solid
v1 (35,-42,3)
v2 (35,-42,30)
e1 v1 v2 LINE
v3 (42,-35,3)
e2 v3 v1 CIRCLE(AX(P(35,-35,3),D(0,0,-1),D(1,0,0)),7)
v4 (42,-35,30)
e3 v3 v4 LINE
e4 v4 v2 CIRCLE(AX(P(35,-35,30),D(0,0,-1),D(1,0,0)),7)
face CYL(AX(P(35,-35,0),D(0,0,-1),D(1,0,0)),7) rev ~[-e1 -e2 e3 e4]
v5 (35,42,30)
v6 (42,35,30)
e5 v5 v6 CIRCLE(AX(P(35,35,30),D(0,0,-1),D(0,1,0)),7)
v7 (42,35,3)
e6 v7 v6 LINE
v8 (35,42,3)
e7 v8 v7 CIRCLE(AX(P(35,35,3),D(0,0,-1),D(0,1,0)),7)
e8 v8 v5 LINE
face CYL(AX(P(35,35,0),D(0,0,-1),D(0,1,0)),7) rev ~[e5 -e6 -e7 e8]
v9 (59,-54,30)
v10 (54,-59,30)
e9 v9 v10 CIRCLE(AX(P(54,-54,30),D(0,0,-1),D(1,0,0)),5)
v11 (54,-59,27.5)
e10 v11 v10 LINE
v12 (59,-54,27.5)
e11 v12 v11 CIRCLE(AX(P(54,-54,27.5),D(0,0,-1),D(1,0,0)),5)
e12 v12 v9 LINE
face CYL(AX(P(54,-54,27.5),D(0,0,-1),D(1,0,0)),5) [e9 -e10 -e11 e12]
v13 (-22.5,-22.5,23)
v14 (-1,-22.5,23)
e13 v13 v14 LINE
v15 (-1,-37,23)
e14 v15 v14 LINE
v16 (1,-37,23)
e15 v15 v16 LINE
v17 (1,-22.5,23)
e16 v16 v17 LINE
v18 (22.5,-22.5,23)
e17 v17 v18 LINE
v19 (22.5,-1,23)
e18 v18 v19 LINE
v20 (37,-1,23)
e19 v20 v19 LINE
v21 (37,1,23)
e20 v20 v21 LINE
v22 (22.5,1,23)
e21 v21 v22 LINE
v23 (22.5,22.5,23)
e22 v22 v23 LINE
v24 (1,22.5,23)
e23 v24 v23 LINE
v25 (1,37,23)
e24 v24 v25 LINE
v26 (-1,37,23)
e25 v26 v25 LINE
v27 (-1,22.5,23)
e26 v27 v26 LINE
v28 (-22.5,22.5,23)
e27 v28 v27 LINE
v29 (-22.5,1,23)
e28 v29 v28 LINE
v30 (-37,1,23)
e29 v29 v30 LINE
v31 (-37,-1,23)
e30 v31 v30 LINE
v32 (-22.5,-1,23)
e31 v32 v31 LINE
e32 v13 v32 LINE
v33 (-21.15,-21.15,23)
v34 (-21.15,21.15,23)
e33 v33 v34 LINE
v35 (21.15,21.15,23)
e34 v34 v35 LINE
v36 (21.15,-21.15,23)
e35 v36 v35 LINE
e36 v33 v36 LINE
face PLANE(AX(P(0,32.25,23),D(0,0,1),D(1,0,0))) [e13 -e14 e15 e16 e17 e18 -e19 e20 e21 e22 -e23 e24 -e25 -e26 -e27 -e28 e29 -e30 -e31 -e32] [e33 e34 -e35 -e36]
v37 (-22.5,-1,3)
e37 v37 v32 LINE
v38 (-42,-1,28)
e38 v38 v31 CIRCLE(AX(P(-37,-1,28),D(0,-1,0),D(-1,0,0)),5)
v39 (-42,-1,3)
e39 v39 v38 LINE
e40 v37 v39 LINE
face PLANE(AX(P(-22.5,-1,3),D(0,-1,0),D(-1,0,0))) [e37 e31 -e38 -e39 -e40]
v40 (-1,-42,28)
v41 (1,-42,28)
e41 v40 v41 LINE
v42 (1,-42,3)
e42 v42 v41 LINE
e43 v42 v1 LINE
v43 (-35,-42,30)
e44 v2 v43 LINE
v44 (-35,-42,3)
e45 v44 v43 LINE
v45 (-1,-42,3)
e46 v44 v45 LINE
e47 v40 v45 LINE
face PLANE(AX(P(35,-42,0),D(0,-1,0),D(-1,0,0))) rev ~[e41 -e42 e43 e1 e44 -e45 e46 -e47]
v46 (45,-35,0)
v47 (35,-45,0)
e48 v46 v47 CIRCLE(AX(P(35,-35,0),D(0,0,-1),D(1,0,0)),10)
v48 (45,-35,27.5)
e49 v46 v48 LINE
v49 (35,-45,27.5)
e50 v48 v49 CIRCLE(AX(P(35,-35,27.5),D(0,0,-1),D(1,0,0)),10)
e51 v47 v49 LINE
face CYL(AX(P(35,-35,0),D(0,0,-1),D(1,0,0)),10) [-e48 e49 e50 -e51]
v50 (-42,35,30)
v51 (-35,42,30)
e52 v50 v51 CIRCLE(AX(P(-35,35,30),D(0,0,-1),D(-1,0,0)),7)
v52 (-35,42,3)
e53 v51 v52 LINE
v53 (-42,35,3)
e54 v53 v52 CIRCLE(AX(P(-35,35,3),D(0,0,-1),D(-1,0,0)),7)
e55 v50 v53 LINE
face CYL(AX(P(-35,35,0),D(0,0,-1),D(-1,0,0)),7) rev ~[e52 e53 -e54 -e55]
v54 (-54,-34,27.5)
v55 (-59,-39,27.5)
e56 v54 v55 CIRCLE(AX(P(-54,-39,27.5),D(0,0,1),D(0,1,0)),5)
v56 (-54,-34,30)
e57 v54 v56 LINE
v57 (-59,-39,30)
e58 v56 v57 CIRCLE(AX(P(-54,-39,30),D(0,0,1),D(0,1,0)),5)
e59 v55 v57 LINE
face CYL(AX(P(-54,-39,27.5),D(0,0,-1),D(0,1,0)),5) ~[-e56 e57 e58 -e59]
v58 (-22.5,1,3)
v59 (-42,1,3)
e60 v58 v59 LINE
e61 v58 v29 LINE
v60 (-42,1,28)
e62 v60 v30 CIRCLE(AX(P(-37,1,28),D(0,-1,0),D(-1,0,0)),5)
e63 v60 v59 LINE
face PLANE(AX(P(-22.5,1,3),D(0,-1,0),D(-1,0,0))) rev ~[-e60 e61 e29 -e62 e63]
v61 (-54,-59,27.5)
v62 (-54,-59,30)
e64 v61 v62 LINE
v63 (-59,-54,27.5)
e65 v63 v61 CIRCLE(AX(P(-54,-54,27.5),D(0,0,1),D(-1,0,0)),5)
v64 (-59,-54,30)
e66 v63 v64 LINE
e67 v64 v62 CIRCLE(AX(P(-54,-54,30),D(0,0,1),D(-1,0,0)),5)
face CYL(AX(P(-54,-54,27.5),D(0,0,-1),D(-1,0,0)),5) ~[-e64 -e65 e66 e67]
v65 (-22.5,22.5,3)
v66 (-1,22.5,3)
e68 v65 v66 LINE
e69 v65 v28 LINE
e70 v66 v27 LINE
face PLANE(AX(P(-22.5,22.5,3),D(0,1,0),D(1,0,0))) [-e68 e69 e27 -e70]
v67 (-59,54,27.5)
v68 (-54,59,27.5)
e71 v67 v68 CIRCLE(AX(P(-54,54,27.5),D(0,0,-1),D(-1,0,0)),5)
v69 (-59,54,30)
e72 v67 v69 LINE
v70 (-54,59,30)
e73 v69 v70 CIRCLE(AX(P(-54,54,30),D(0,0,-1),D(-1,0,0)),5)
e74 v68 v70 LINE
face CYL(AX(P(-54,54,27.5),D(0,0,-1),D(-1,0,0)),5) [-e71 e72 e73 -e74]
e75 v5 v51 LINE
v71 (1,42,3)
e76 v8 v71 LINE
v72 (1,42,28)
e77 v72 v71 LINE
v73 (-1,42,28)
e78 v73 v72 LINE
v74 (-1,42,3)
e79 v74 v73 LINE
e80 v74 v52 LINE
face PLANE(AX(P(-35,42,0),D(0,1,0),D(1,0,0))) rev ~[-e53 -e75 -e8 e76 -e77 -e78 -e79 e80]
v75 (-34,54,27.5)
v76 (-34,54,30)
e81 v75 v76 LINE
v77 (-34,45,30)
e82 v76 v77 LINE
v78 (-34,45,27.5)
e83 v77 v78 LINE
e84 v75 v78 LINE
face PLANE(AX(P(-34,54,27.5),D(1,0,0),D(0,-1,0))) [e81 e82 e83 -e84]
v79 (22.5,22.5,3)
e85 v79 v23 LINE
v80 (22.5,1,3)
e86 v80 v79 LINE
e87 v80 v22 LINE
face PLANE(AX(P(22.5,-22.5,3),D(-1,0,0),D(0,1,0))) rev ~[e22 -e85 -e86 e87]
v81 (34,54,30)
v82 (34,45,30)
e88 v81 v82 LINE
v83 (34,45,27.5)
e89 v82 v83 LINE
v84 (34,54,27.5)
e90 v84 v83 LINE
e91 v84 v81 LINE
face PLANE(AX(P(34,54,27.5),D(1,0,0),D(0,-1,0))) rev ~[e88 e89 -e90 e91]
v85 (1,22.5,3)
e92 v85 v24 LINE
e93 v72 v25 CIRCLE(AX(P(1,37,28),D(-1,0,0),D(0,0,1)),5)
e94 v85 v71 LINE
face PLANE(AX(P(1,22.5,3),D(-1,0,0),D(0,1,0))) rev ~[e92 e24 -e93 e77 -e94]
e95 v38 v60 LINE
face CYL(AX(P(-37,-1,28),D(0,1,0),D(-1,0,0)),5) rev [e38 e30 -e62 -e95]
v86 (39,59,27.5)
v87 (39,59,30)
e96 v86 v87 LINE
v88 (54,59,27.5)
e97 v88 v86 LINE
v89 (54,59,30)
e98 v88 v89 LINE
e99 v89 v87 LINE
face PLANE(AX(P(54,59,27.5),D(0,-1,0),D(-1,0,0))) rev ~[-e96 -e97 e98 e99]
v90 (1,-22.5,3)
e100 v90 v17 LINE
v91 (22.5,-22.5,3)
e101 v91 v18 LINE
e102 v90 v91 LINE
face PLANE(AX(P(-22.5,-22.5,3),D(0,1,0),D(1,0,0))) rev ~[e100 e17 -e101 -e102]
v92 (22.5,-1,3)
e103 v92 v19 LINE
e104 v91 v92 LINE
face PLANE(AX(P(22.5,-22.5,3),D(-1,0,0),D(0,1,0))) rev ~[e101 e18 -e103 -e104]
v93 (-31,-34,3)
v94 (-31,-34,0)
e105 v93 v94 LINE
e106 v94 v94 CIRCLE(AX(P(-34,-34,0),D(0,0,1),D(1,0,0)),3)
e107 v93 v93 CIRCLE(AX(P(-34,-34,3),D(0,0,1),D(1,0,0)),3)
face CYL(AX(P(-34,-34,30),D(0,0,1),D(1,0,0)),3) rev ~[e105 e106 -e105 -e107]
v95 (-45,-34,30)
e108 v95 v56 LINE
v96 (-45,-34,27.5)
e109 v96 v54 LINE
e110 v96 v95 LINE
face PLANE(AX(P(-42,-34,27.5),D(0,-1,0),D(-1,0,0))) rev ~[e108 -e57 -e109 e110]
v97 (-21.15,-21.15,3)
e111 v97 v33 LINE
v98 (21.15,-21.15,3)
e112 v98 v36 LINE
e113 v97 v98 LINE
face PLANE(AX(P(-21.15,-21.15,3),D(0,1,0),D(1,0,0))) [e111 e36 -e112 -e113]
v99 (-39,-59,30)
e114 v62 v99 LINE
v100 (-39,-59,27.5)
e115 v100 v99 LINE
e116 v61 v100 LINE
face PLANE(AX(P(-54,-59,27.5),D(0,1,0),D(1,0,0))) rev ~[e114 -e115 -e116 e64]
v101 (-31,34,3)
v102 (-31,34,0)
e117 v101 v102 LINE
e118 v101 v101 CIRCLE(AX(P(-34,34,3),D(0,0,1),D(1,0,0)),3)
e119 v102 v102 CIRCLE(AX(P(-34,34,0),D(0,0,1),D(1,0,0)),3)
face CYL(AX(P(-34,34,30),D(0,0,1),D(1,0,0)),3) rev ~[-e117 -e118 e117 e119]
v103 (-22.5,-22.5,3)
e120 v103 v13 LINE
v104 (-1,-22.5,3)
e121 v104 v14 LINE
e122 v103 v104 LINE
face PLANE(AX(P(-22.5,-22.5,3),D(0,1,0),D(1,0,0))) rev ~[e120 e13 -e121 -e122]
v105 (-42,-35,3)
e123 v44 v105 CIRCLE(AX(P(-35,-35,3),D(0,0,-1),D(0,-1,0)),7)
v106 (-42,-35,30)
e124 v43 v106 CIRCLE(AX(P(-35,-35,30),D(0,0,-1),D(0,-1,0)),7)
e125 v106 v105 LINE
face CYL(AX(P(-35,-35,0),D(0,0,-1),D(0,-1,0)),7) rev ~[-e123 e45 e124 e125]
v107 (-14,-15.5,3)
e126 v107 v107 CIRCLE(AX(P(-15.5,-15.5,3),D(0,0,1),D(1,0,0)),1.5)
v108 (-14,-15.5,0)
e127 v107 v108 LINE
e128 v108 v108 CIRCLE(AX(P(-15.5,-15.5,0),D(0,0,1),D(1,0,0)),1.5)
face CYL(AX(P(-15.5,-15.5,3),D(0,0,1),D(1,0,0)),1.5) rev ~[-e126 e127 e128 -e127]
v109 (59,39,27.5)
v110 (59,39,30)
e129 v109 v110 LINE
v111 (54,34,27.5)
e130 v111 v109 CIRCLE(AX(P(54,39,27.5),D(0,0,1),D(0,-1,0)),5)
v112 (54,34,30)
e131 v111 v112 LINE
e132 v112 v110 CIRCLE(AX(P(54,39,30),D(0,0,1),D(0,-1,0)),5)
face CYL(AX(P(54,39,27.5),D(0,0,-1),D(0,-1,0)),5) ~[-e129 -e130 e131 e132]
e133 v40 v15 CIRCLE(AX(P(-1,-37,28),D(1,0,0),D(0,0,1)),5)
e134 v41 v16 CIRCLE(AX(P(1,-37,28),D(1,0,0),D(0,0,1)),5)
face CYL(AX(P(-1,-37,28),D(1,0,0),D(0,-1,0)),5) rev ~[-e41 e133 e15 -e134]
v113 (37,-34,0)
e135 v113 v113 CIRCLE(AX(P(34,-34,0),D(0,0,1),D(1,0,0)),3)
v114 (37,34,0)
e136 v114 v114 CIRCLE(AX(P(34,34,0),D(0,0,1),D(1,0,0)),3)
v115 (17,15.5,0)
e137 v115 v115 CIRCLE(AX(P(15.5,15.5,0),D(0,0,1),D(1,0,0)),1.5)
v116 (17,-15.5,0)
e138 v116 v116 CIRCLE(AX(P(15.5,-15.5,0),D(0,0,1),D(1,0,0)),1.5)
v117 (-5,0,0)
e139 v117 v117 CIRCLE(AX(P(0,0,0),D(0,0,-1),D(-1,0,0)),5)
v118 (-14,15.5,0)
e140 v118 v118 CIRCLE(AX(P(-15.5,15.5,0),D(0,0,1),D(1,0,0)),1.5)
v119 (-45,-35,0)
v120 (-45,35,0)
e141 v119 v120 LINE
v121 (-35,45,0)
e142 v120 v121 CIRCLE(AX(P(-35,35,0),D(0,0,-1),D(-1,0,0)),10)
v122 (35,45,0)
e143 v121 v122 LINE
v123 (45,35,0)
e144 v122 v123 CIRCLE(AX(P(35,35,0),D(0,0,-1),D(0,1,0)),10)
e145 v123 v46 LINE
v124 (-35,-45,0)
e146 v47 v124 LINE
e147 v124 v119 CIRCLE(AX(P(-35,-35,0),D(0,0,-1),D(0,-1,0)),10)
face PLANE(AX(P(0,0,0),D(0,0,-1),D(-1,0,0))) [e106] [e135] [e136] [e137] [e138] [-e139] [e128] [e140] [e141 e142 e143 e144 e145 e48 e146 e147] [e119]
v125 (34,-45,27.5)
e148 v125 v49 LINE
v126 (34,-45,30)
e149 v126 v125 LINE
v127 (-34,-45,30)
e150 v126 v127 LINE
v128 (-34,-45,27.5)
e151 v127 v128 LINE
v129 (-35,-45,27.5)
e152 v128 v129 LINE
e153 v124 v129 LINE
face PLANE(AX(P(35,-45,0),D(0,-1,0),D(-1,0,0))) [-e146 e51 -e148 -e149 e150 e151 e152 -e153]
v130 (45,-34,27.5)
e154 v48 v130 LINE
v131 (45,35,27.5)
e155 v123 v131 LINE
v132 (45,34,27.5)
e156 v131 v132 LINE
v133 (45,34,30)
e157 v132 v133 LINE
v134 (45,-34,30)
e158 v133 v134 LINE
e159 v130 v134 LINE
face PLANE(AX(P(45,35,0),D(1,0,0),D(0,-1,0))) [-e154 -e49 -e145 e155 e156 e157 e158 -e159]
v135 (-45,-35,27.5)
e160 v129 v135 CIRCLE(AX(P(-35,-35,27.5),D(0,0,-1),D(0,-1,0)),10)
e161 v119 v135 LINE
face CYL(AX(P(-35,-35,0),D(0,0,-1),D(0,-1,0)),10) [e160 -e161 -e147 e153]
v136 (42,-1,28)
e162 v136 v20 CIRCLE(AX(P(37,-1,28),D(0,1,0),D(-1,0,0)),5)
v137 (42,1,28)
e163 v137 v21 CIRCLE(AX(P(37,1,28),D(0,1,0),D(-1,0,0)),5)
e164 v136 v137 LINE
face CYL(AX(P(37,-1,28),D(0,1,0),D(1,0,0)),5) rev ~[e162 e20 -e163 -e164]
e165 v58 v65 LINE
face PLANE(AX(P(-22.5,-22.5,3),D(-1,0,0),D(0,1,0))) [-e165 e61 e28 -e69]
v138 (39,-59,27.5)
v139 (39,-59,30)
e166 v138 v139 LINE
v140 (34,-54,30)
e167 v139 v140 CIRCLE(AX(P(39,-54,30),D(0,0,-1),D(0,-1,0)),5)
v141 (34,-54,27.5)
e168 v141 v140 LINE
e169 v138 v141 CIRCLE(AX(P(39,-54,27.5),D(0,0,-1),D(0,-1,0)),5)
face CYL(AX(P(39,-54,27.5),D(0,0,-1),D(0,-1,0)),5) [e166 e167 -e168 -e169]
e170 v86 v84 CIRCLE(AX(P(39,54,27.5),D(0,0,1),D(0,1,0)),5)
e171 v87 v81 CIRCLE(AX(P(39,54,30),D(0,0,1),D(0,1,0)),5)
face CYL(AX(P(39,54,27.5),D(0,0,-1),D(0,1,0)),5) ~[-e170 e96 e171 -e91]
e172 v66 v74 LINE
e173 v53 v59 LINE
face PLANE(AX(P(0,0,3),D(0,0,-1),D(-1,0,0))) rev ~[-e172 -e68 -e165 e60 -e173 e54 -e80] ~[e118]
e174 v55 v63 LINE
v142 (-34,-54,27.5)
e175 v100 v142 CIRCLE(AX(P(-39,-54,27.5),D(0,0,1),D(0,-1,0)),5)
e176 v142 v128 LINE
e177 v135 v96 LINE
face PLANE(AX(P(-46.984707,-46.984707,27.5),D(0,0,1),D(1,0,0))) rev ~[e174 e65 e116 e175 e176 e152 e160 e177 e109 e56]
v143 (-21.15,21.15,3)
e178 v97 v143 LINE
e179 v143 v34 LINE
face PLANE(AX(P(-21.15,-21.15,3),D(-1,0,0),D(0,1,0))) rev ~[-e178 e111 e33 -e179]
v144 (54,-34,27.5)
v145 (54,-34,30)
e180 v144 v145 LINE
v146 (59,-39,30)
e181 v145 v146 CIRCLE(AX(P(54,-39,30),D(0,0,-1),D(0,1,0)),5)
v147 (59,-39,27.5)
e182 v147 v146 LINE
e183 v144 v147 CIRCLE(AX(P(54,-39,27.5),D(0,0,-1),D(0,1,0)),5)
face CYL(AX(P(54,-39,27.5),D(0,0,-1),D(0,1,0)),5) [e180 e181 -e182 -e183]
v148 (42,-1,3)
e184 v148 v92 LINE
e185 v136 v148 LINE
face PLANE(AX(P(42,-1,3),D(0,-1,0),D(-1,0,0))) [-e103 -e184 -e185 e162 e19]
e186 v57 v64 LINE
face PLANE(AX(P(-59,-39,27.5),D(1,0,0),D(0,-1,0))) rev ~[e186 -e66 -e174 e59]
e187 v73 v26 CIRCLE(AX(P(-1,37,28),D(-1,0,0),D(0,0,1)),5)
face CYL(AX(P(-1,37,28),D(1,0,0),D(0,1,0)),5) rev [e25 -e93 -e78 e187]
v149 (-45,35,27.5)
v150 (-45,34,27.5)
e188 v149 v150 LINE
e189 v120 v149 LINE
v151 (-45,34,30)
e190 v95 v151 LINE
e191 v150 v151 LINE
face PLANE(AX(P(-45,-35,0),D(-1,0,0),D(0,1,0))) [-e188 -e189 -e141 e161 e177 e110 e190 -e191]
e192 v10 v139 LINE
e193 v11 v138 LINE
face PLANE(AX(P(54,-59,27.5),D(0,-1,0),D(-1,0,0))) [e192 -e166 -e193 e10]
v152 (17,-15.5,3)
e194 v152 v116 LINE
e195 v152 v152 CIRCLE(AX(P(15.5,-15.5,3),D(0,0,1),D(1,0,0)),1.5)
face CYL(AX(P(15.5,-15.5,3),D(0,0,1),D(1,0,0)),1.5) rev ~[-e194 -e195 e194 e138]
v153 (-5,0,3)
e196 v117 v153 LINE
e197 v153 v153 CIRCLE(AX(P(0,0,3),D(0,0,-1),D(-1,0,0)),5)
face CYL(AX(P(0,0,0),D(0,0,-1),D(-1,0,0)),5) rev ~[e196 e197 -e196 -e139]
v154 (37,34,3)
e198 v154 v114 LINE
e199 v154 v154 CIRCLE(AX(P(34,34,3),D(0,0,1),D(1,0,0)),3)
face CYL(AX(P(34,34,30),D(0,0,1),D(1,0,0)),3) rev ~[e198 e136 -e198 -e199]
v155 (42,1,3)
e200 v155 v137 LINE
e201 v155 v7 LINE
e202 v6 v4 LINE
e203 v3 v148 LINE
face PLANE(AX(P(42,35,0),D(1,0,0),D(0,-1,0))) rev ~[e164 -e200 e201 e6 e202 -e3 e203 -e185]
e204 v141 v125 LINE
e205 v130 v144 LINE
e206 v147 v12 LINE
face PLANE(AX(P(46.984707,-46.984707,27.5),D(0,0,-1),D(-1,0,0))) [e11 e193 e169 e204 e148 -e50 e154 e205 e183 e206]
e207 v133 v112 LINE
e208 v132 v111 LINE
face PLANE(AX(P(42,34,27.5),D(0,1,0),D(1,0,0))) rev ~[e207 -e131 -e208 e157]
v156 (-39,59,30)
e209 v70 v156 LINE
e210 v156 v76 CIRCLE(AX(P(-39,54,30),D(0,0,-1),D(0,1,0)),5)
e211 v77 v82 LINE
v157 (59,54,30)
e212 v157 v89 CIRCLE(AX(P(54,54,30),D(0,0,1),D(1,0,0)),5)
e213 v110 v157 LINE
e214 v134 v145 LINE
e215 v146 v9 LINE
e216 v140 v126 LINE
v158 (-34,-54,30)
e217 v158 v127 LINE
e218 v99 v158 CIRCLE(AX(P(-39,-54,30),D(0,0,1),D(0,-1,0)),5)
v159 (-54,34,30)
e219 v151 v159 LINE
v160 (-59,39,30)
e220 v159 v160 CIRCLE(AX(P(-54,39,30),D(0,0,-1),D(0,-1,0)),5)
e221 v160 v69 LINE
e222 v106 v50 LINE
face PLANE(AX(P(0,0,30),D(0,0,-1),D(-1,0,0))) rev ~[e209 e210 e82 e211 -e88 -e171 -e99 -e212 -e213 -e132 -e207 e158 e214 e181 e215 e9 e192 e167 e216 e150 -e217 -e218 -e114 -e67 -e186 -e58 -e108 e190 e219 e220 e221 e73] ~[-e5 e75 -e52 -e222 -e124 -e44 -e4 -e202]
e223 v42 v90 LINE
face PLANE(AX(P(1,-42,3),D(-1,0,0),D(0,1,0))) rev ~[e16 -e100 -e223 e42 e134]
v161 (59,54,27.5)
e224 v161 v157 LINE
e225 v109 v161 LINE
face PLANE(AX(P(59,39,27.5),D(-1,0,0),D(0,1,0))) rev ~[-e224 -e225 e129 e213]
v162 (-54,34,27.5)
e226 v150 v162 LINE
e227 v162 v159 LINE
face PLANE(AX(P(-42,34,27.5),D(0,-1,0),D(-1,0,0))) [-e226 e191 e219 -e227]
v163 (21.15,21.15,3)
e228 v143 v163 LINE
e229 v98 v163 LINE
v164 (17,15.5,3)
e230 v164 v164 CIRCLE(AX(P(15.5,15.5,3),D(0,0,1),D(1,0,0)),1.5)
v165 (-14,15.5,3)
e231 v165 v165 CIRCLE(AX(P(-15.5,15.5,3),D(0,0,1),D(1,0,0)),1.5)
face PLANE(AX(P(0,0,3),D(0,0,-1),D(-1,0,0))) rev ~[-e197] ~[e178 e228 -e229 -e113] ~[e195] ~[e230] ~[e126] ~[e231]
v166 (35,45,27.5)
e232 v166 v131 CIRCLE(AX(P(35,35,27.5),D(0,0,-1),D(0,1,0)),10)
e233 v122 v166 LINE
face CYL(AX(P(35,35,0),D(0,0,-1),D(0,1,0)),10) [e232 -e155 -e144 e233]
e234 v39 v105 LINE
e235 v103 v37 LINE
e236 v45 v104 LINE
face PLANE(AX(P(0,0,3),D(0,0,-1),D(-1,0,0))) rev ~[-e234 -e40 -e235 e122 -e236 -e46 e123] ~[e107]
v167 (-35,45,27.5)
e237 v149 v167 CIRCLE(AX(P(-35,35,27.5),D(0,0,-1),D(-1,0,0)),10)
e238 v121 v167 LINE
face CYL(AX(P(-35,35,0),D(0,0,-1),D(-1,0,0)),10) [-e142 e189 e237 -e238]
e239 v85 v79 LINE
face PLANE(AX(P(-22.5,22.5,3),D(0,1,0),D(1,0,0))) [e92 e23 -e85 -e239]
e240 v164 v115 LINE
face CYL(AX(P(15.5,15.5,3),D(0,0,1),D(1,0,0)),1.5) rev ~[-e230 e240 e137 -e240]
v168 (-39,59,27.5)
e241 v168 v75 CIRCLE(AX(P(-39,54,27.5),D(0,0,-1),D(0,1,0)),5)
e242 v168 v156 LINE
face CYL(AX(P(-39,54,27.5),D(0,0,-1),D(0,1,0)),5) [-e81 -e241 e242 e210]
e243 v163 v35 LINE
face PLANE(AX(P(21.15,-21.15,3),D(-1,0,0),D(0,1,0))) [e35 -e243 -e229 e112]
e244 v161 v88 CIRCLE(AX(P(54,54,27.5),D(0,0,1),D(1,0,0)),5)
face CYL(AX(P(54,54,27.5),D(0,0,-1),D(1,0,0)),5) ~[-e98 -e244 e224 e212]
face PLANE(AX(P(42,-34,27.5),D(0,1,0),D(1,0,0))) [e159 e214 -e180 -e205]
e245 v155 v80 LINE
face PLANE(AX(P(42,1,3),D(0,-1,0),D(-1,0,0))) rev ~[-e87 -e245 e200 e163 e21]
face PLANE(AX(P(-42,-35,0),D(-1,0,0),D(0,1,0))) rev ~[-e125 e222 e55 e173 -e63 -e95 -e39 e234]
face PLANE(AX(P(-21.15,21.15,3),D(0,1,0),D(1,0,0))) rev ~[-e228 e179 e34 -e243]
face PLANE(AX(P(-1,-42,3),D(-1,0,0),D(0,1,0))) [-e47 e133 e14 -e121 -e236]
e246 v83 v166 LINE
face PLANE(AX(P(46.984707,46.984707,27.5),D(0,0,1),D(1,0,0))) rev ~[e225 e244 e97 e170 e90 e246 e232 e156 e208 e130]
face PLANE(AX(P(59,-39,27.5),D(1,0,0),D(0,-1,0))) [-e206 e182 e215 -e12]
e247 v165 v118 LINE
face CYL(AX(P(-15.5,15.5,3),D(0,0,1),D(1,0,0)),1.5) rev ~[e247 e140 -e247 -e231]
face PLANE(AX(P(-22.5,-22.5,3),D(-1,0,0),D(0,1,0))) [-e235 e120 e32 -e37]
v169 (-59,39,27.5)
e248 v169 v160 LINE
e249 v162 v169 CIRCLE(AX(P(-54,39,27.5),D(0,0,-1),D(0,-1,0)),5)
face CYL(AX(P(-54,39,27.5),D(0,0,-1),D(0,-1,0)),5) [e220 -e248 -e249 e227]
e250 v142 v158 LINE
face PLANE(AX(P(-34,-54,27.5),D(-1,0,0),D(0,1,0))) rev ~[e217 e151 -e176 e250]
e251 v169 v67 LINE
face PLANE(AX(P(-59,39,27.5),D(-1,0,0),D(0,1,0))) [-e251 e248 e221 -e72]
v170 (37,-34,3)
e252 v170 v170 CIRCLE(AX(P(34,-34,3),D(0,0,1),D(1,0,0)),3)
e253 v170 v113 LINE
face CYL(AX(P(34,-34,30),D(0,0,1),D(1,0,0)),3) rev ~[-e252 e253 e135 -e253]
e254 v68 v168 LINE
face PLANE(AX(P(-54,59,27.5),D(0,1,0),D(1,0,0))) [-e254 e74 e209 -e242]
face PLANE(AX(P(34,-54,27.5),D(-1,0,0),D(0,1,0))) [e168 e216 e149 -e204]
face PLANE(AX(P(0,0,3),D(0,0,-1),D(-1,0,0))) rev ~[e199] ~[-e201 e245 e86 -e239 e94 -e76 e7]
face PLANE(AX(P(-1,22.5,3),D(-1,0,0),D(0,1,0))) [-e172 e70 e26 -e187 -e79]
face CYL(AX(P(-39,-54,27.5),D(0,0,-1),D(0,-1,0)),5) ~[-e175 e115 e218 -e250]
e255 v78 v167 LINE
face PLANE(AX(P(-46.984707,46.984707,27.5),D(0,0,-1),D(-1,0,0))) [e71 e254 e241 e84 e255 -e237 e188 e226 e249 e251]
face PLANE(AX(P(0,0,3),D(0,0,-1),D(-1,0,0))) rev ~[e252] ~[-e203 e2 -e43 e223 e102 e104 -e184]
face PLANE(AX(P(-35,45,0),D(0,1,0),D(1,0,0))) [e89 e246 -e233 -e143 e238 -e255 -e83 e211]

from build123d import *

# Parameters (mm, degrees)
EXTRUDE_1_DEPTH          = 30
SHELL_1_T                = -3
CUT_EXTRUDE_1_REACH      = 72.356
SKETCH_3_R               = 3
SKETCH_4_W               = 45
SKETCH_4_H               = 45
SKETCH_4_W_2             = 42.3
SKETCH_4_H_2             = 42.3
EXTRUDE_3_DEPTH          = 20
SKETCH_11_R              = 1.5
CUT_EXTRUDE_4_DEPTH      = 70.130311731
SKETCH_7_W               = 2
SKETCH_7_H               = 19.5
EXTRUDE_5_DEPTH          = 20
PATTERN_CIRCULAR_1_COUNT = 2
PATTERN_CIRCULAR_1_ANGLE = 90
SKETCH_10_R              = 5
CUT_EXTRUDE_3_DEPTH      = 71.356236397
FILLET_1_R               = 5
EXTRUDE_START            = -2.5
EXTRUDE_6_DEPTH          = 2.5


with BuildPart() as part:
    # 草图1 → 凸台-拉伸1 (new body)
    with BuildSketch(Plane.XY):
        with BuildLine():
            Line((-35, 45), (35, 45))
            ThreePointArc((35, 45), (42.071067812, 42.071067812), (45, 35))
            Line((45, 35), (45, -35))
            ThreePointArc((45, -35), (42.071067812, -42.071067812), (35, -45))
            Line((35, -45), (-35, -45))
            ThreePointArc((-35, -45), (-42.071067812, -42.071067812), (-45, -35))
            Line((-45, -35), (-45, 35))
            ThreePointArc((-45, 35), (-42.071067812, 42.071067812), (-35, 45))
        make_face()
    extrude(amount=EXTRUDE_1_DEPTH)

    # 抽壳1
    shell_1_openings = [part.faces().sort_by_distance(p)[0] for p in [
        (0, 0, 30),
    ]]
    offset(amount=SHELL_1_T, openings=shell_1_openings, kind=Kind.INTERSECTION)

    # 草图3 → 切除-拉伸1 (cut, up to next)
    with BuildSketch(Plane.XY.offset(30), mode=Mode.PRIVATE) as cut_extrude_1_sk1:
        with Locations((-34, 34)):
            Circle(SKETCH_3_R)
    cut_extrude_1_tool1 = extrude(cut_extrude_1_sk1.sketch, amount=-CUT_EXTRUDE_1_REACH, mode=Mode.PRIVATE) & part.part
    # 草图3 → 切除-拉伸1 (cut, up to next)
    with BuildSketch(Plane.XY.offset(30), mode=Mode.PRIVATE) as cut_extrude_1_sk2:
        with Locations((34, 34)):
            Circle(SKETCH_3_R)
    cut_extrude_1_tool2 = extrude(cut_extrude_1_sk2.sketch, amount=-CUT_EXTRUDE_1_REACH, mode=Mode.PRIVATE) & part.part
    # 草图3 → 切除-拉伸1 (cut, up to next)
    with BuildSketch(Plane.XY.offset(30), mode=Mode.PRIVATE) as cut_extrude_1_sk3:
        with Locations((34, -34)):
            Circle(SKETCH_3_R)
    cut_extrude_1_tool3 = extrude(cut_extrude_1_sk3.sketch, amount=-CUT_EXTRUDE_1_REACH, mode=Mode.PRIVATE) & part.part
    # 草图3 → 切除-拉伸1 (cut, up to next)
    with BuildSketch(Plane.XY.offset(30), mode=Mode.PRIVATE) as cut_extrude_1_sk4:
        with Locations((-34, -34)):
            Circle(SKETCH_3_R)
    cut_extrude_1_tool4 = extrude(cut_extrude_1_sk4.sketch, amount=-CUT_EXTRUDE_1_REACH, mode=Mode.PRIVATE) & part.part
    add(cut_extrude_1_tool1.solids().sort_by_distance((-34, 34, 30))[0], mode=Mode.SUBTRACT)
    add(cut_extrude_1_tool2.solids().sort_by_distance((34, 34, 30))[0], mode=Mode.SUBTRACT)
    add(cut_extrude_1_tool3.solids().sort_by_distance((34, -34, 30))[0], mode=Mode.SUBTRACT)
    add(cut_extrude_1_tool4.solids().sort_by_distance((-34, -34, 30))[0], mode=Mode.SUBTRACT)

    # 草图4 → 凸台-拉伸3 (add)
    with BuildSketch(Plane.XY.offset(3)):
        Rectangle(SKETCH_4_W, SKETCH_4_H)
        Rectangle(SKETCH_4_W_2, SKETCH_4_H_2, mode=Mode.SUBTRACT)
    extrude(amount=EXTRUDE_3_DEPTH)

    # 草图11 → 切除-拉伸4 (cut, through all)
    with BuildSketch(Plane.XY.offset(3)):
        with Locations((-15.5, -15.5)):
            Circle(SKETCH_11_R)
        with Locations((15.5, -15.5)):
            Circle(SKETCH_11_R)
        with Locations((15.5, 15.5)):
            Circle(SKETCH_11_R)
        with Locations((-15.5, 15.5)):
            Circle(SKETCH_11_R)
    extrude(amount=-CUT_EXTRUDE_4_DEPTH, mode=Mode.SUBTRACT)

    # 草图7 → 凸台-拉伸5 (add)
    with BuildSketch(Plane.XY.offset(3)):
        with Locations((0, 32.25)):
            Rectangle(SKETCH_7_W, SKETCH_7_H)
        with Locations((0, -32.25)):
            Rectangle(SKETCH_7_W, SKETCH_7_H)
    extrude_5 = extrude(amount=EXTRUDE_5_DEPTH)

    # 阵列(圆周)1: 凸台-拉伸5 ×2 about axis
    pattern_circular_1_axis = Axis((0, 0, -2), (0, 0, 1))
    for i in range(1, PATTERN_CIRCULAR_1_COUNT):
        add(extrude_5.rotate(pattern_circular_1_axis, i * PATTERN_CIRCULAR_1_ANGLE / (PATTERN_CIRCULAR_1_COUNT - 1)))

    # 草图10 → 切除-拉伸3 (cut, through all)
    with BuildSketch(Plane(origin=(0, 0, 0), x_dir=(-1, 0, 0), z_dir=(0, 0, -1))):
        Circle(SKETCH_10_R)
    extrude(amount=-CUT_EXTRUDE_3_DEPTH, mode=Mode.SUBTRACT)

    # 圆角1
    fillet_1_edges = [part.edges().sort_by_distance(p)[0] for p in [
        (0, 42, 23),
        (0, -42, 23),
        (-42, 0, 23),
        (42, 0, 23),
    ]]
    fillet(fillet_1_edges, radius=FILLET_1_R)

    # 草图12 → 凸台-拉伸6 (add)
    with BuildSketch(Plane.XY.offset(30).offset(EXTRUDE_START)):
        with BuildLine():
            Line((34, 42), (35, 42))
            ThreePointArc((35, 42), (39.949747468, 39.949747468), (42, 35))
            Line((42, 35), (42, 34))
            Line((42, 34), (54, 34))
            ThreePointArc((54, 34), (57.535533906, 35.464466094), (59, 39))
            Line((59, 39), (59, 54))
            ThreePointArc((59, 54), (57.535533906, 57.535533906), (54, 59))
            Line((54, 59), (39, 59))
            ThreePointArc((39, 59), (35.464466094, 57.535533906), (34, 54))
            Line((34, 54), (34, 42))
        make_face()
        with BuildLine():
            Line((42, -34), (54, -34))
            ThreePointArc((54, -34), (57.535533906, -35.464466094), (59, -39))
            Line((59, -39), (59, -54))
            ThreePointArc((59, -54), (57.535533906, -57.535533906), (54, -59))
            Line((54, -59), (39, -59))
            ThreePointArc((39, -59), (35.464466094, -57.535533906), (34, -54))
            Line((34, -54), (34, -42))
            Line((34, -42), (35, -42))
            ThreePointArc((35, -42), (39.949747468, -39.949747468), (42, -35))
            Line((42, -35), (42, -34))
        make_face()
        with BuildLine():
            Line((-42, -35), (-42, -34))
            Line((-42, -34), (-54, -34))
            ThreePointArc((-54, -34), (-57.535533906, -35.464466094), (-59, -39))
            Line((-59, -39), (-59, -54))
            ThreePointArc((-59, -54), (-57.535533906, -57.535533906), (-54, -59))
            Line((-54, -59), (-39, -59))
            ThreePointArc((-39, -59), (-35.464466094, -57.535533906), (-34, -54))
            Line((-34, -54), (-34, -42))
            Line((-34, -42), (-35, -42))
            ThreePointArc((-35, -42), (-39.949747468, -39.949747468), (-42, -35))
        make_face()
        with BuildLine():
            Line((-42, 35), (-42, 34))
            Line((-42, 34), (-54, 34))
            ThreePointArc((-54, 34), (-57.535533906, 35.464466094), (-59, 39))
            Line((-59, 39), (-59, 54))
            ThreePointArc((-59, 54), (-57.535533906, 57.535533906), (-54, 59))
            Line((-54, 59), (-39, 59))
            ThreePointArc((-39, 59), (-35.464466094, 57.535533906), (-34, 54))
            Line((-34, 54), (-34, 42))
            Line((-34, 42), (-35, 42))
            ThreePointArc((-35, 42), (-39.949747468, 39.949747468), (-42, 35))
        make_face()
    extrude(amount=EXTRUDE_6_DEPTH)


solid = part.part
